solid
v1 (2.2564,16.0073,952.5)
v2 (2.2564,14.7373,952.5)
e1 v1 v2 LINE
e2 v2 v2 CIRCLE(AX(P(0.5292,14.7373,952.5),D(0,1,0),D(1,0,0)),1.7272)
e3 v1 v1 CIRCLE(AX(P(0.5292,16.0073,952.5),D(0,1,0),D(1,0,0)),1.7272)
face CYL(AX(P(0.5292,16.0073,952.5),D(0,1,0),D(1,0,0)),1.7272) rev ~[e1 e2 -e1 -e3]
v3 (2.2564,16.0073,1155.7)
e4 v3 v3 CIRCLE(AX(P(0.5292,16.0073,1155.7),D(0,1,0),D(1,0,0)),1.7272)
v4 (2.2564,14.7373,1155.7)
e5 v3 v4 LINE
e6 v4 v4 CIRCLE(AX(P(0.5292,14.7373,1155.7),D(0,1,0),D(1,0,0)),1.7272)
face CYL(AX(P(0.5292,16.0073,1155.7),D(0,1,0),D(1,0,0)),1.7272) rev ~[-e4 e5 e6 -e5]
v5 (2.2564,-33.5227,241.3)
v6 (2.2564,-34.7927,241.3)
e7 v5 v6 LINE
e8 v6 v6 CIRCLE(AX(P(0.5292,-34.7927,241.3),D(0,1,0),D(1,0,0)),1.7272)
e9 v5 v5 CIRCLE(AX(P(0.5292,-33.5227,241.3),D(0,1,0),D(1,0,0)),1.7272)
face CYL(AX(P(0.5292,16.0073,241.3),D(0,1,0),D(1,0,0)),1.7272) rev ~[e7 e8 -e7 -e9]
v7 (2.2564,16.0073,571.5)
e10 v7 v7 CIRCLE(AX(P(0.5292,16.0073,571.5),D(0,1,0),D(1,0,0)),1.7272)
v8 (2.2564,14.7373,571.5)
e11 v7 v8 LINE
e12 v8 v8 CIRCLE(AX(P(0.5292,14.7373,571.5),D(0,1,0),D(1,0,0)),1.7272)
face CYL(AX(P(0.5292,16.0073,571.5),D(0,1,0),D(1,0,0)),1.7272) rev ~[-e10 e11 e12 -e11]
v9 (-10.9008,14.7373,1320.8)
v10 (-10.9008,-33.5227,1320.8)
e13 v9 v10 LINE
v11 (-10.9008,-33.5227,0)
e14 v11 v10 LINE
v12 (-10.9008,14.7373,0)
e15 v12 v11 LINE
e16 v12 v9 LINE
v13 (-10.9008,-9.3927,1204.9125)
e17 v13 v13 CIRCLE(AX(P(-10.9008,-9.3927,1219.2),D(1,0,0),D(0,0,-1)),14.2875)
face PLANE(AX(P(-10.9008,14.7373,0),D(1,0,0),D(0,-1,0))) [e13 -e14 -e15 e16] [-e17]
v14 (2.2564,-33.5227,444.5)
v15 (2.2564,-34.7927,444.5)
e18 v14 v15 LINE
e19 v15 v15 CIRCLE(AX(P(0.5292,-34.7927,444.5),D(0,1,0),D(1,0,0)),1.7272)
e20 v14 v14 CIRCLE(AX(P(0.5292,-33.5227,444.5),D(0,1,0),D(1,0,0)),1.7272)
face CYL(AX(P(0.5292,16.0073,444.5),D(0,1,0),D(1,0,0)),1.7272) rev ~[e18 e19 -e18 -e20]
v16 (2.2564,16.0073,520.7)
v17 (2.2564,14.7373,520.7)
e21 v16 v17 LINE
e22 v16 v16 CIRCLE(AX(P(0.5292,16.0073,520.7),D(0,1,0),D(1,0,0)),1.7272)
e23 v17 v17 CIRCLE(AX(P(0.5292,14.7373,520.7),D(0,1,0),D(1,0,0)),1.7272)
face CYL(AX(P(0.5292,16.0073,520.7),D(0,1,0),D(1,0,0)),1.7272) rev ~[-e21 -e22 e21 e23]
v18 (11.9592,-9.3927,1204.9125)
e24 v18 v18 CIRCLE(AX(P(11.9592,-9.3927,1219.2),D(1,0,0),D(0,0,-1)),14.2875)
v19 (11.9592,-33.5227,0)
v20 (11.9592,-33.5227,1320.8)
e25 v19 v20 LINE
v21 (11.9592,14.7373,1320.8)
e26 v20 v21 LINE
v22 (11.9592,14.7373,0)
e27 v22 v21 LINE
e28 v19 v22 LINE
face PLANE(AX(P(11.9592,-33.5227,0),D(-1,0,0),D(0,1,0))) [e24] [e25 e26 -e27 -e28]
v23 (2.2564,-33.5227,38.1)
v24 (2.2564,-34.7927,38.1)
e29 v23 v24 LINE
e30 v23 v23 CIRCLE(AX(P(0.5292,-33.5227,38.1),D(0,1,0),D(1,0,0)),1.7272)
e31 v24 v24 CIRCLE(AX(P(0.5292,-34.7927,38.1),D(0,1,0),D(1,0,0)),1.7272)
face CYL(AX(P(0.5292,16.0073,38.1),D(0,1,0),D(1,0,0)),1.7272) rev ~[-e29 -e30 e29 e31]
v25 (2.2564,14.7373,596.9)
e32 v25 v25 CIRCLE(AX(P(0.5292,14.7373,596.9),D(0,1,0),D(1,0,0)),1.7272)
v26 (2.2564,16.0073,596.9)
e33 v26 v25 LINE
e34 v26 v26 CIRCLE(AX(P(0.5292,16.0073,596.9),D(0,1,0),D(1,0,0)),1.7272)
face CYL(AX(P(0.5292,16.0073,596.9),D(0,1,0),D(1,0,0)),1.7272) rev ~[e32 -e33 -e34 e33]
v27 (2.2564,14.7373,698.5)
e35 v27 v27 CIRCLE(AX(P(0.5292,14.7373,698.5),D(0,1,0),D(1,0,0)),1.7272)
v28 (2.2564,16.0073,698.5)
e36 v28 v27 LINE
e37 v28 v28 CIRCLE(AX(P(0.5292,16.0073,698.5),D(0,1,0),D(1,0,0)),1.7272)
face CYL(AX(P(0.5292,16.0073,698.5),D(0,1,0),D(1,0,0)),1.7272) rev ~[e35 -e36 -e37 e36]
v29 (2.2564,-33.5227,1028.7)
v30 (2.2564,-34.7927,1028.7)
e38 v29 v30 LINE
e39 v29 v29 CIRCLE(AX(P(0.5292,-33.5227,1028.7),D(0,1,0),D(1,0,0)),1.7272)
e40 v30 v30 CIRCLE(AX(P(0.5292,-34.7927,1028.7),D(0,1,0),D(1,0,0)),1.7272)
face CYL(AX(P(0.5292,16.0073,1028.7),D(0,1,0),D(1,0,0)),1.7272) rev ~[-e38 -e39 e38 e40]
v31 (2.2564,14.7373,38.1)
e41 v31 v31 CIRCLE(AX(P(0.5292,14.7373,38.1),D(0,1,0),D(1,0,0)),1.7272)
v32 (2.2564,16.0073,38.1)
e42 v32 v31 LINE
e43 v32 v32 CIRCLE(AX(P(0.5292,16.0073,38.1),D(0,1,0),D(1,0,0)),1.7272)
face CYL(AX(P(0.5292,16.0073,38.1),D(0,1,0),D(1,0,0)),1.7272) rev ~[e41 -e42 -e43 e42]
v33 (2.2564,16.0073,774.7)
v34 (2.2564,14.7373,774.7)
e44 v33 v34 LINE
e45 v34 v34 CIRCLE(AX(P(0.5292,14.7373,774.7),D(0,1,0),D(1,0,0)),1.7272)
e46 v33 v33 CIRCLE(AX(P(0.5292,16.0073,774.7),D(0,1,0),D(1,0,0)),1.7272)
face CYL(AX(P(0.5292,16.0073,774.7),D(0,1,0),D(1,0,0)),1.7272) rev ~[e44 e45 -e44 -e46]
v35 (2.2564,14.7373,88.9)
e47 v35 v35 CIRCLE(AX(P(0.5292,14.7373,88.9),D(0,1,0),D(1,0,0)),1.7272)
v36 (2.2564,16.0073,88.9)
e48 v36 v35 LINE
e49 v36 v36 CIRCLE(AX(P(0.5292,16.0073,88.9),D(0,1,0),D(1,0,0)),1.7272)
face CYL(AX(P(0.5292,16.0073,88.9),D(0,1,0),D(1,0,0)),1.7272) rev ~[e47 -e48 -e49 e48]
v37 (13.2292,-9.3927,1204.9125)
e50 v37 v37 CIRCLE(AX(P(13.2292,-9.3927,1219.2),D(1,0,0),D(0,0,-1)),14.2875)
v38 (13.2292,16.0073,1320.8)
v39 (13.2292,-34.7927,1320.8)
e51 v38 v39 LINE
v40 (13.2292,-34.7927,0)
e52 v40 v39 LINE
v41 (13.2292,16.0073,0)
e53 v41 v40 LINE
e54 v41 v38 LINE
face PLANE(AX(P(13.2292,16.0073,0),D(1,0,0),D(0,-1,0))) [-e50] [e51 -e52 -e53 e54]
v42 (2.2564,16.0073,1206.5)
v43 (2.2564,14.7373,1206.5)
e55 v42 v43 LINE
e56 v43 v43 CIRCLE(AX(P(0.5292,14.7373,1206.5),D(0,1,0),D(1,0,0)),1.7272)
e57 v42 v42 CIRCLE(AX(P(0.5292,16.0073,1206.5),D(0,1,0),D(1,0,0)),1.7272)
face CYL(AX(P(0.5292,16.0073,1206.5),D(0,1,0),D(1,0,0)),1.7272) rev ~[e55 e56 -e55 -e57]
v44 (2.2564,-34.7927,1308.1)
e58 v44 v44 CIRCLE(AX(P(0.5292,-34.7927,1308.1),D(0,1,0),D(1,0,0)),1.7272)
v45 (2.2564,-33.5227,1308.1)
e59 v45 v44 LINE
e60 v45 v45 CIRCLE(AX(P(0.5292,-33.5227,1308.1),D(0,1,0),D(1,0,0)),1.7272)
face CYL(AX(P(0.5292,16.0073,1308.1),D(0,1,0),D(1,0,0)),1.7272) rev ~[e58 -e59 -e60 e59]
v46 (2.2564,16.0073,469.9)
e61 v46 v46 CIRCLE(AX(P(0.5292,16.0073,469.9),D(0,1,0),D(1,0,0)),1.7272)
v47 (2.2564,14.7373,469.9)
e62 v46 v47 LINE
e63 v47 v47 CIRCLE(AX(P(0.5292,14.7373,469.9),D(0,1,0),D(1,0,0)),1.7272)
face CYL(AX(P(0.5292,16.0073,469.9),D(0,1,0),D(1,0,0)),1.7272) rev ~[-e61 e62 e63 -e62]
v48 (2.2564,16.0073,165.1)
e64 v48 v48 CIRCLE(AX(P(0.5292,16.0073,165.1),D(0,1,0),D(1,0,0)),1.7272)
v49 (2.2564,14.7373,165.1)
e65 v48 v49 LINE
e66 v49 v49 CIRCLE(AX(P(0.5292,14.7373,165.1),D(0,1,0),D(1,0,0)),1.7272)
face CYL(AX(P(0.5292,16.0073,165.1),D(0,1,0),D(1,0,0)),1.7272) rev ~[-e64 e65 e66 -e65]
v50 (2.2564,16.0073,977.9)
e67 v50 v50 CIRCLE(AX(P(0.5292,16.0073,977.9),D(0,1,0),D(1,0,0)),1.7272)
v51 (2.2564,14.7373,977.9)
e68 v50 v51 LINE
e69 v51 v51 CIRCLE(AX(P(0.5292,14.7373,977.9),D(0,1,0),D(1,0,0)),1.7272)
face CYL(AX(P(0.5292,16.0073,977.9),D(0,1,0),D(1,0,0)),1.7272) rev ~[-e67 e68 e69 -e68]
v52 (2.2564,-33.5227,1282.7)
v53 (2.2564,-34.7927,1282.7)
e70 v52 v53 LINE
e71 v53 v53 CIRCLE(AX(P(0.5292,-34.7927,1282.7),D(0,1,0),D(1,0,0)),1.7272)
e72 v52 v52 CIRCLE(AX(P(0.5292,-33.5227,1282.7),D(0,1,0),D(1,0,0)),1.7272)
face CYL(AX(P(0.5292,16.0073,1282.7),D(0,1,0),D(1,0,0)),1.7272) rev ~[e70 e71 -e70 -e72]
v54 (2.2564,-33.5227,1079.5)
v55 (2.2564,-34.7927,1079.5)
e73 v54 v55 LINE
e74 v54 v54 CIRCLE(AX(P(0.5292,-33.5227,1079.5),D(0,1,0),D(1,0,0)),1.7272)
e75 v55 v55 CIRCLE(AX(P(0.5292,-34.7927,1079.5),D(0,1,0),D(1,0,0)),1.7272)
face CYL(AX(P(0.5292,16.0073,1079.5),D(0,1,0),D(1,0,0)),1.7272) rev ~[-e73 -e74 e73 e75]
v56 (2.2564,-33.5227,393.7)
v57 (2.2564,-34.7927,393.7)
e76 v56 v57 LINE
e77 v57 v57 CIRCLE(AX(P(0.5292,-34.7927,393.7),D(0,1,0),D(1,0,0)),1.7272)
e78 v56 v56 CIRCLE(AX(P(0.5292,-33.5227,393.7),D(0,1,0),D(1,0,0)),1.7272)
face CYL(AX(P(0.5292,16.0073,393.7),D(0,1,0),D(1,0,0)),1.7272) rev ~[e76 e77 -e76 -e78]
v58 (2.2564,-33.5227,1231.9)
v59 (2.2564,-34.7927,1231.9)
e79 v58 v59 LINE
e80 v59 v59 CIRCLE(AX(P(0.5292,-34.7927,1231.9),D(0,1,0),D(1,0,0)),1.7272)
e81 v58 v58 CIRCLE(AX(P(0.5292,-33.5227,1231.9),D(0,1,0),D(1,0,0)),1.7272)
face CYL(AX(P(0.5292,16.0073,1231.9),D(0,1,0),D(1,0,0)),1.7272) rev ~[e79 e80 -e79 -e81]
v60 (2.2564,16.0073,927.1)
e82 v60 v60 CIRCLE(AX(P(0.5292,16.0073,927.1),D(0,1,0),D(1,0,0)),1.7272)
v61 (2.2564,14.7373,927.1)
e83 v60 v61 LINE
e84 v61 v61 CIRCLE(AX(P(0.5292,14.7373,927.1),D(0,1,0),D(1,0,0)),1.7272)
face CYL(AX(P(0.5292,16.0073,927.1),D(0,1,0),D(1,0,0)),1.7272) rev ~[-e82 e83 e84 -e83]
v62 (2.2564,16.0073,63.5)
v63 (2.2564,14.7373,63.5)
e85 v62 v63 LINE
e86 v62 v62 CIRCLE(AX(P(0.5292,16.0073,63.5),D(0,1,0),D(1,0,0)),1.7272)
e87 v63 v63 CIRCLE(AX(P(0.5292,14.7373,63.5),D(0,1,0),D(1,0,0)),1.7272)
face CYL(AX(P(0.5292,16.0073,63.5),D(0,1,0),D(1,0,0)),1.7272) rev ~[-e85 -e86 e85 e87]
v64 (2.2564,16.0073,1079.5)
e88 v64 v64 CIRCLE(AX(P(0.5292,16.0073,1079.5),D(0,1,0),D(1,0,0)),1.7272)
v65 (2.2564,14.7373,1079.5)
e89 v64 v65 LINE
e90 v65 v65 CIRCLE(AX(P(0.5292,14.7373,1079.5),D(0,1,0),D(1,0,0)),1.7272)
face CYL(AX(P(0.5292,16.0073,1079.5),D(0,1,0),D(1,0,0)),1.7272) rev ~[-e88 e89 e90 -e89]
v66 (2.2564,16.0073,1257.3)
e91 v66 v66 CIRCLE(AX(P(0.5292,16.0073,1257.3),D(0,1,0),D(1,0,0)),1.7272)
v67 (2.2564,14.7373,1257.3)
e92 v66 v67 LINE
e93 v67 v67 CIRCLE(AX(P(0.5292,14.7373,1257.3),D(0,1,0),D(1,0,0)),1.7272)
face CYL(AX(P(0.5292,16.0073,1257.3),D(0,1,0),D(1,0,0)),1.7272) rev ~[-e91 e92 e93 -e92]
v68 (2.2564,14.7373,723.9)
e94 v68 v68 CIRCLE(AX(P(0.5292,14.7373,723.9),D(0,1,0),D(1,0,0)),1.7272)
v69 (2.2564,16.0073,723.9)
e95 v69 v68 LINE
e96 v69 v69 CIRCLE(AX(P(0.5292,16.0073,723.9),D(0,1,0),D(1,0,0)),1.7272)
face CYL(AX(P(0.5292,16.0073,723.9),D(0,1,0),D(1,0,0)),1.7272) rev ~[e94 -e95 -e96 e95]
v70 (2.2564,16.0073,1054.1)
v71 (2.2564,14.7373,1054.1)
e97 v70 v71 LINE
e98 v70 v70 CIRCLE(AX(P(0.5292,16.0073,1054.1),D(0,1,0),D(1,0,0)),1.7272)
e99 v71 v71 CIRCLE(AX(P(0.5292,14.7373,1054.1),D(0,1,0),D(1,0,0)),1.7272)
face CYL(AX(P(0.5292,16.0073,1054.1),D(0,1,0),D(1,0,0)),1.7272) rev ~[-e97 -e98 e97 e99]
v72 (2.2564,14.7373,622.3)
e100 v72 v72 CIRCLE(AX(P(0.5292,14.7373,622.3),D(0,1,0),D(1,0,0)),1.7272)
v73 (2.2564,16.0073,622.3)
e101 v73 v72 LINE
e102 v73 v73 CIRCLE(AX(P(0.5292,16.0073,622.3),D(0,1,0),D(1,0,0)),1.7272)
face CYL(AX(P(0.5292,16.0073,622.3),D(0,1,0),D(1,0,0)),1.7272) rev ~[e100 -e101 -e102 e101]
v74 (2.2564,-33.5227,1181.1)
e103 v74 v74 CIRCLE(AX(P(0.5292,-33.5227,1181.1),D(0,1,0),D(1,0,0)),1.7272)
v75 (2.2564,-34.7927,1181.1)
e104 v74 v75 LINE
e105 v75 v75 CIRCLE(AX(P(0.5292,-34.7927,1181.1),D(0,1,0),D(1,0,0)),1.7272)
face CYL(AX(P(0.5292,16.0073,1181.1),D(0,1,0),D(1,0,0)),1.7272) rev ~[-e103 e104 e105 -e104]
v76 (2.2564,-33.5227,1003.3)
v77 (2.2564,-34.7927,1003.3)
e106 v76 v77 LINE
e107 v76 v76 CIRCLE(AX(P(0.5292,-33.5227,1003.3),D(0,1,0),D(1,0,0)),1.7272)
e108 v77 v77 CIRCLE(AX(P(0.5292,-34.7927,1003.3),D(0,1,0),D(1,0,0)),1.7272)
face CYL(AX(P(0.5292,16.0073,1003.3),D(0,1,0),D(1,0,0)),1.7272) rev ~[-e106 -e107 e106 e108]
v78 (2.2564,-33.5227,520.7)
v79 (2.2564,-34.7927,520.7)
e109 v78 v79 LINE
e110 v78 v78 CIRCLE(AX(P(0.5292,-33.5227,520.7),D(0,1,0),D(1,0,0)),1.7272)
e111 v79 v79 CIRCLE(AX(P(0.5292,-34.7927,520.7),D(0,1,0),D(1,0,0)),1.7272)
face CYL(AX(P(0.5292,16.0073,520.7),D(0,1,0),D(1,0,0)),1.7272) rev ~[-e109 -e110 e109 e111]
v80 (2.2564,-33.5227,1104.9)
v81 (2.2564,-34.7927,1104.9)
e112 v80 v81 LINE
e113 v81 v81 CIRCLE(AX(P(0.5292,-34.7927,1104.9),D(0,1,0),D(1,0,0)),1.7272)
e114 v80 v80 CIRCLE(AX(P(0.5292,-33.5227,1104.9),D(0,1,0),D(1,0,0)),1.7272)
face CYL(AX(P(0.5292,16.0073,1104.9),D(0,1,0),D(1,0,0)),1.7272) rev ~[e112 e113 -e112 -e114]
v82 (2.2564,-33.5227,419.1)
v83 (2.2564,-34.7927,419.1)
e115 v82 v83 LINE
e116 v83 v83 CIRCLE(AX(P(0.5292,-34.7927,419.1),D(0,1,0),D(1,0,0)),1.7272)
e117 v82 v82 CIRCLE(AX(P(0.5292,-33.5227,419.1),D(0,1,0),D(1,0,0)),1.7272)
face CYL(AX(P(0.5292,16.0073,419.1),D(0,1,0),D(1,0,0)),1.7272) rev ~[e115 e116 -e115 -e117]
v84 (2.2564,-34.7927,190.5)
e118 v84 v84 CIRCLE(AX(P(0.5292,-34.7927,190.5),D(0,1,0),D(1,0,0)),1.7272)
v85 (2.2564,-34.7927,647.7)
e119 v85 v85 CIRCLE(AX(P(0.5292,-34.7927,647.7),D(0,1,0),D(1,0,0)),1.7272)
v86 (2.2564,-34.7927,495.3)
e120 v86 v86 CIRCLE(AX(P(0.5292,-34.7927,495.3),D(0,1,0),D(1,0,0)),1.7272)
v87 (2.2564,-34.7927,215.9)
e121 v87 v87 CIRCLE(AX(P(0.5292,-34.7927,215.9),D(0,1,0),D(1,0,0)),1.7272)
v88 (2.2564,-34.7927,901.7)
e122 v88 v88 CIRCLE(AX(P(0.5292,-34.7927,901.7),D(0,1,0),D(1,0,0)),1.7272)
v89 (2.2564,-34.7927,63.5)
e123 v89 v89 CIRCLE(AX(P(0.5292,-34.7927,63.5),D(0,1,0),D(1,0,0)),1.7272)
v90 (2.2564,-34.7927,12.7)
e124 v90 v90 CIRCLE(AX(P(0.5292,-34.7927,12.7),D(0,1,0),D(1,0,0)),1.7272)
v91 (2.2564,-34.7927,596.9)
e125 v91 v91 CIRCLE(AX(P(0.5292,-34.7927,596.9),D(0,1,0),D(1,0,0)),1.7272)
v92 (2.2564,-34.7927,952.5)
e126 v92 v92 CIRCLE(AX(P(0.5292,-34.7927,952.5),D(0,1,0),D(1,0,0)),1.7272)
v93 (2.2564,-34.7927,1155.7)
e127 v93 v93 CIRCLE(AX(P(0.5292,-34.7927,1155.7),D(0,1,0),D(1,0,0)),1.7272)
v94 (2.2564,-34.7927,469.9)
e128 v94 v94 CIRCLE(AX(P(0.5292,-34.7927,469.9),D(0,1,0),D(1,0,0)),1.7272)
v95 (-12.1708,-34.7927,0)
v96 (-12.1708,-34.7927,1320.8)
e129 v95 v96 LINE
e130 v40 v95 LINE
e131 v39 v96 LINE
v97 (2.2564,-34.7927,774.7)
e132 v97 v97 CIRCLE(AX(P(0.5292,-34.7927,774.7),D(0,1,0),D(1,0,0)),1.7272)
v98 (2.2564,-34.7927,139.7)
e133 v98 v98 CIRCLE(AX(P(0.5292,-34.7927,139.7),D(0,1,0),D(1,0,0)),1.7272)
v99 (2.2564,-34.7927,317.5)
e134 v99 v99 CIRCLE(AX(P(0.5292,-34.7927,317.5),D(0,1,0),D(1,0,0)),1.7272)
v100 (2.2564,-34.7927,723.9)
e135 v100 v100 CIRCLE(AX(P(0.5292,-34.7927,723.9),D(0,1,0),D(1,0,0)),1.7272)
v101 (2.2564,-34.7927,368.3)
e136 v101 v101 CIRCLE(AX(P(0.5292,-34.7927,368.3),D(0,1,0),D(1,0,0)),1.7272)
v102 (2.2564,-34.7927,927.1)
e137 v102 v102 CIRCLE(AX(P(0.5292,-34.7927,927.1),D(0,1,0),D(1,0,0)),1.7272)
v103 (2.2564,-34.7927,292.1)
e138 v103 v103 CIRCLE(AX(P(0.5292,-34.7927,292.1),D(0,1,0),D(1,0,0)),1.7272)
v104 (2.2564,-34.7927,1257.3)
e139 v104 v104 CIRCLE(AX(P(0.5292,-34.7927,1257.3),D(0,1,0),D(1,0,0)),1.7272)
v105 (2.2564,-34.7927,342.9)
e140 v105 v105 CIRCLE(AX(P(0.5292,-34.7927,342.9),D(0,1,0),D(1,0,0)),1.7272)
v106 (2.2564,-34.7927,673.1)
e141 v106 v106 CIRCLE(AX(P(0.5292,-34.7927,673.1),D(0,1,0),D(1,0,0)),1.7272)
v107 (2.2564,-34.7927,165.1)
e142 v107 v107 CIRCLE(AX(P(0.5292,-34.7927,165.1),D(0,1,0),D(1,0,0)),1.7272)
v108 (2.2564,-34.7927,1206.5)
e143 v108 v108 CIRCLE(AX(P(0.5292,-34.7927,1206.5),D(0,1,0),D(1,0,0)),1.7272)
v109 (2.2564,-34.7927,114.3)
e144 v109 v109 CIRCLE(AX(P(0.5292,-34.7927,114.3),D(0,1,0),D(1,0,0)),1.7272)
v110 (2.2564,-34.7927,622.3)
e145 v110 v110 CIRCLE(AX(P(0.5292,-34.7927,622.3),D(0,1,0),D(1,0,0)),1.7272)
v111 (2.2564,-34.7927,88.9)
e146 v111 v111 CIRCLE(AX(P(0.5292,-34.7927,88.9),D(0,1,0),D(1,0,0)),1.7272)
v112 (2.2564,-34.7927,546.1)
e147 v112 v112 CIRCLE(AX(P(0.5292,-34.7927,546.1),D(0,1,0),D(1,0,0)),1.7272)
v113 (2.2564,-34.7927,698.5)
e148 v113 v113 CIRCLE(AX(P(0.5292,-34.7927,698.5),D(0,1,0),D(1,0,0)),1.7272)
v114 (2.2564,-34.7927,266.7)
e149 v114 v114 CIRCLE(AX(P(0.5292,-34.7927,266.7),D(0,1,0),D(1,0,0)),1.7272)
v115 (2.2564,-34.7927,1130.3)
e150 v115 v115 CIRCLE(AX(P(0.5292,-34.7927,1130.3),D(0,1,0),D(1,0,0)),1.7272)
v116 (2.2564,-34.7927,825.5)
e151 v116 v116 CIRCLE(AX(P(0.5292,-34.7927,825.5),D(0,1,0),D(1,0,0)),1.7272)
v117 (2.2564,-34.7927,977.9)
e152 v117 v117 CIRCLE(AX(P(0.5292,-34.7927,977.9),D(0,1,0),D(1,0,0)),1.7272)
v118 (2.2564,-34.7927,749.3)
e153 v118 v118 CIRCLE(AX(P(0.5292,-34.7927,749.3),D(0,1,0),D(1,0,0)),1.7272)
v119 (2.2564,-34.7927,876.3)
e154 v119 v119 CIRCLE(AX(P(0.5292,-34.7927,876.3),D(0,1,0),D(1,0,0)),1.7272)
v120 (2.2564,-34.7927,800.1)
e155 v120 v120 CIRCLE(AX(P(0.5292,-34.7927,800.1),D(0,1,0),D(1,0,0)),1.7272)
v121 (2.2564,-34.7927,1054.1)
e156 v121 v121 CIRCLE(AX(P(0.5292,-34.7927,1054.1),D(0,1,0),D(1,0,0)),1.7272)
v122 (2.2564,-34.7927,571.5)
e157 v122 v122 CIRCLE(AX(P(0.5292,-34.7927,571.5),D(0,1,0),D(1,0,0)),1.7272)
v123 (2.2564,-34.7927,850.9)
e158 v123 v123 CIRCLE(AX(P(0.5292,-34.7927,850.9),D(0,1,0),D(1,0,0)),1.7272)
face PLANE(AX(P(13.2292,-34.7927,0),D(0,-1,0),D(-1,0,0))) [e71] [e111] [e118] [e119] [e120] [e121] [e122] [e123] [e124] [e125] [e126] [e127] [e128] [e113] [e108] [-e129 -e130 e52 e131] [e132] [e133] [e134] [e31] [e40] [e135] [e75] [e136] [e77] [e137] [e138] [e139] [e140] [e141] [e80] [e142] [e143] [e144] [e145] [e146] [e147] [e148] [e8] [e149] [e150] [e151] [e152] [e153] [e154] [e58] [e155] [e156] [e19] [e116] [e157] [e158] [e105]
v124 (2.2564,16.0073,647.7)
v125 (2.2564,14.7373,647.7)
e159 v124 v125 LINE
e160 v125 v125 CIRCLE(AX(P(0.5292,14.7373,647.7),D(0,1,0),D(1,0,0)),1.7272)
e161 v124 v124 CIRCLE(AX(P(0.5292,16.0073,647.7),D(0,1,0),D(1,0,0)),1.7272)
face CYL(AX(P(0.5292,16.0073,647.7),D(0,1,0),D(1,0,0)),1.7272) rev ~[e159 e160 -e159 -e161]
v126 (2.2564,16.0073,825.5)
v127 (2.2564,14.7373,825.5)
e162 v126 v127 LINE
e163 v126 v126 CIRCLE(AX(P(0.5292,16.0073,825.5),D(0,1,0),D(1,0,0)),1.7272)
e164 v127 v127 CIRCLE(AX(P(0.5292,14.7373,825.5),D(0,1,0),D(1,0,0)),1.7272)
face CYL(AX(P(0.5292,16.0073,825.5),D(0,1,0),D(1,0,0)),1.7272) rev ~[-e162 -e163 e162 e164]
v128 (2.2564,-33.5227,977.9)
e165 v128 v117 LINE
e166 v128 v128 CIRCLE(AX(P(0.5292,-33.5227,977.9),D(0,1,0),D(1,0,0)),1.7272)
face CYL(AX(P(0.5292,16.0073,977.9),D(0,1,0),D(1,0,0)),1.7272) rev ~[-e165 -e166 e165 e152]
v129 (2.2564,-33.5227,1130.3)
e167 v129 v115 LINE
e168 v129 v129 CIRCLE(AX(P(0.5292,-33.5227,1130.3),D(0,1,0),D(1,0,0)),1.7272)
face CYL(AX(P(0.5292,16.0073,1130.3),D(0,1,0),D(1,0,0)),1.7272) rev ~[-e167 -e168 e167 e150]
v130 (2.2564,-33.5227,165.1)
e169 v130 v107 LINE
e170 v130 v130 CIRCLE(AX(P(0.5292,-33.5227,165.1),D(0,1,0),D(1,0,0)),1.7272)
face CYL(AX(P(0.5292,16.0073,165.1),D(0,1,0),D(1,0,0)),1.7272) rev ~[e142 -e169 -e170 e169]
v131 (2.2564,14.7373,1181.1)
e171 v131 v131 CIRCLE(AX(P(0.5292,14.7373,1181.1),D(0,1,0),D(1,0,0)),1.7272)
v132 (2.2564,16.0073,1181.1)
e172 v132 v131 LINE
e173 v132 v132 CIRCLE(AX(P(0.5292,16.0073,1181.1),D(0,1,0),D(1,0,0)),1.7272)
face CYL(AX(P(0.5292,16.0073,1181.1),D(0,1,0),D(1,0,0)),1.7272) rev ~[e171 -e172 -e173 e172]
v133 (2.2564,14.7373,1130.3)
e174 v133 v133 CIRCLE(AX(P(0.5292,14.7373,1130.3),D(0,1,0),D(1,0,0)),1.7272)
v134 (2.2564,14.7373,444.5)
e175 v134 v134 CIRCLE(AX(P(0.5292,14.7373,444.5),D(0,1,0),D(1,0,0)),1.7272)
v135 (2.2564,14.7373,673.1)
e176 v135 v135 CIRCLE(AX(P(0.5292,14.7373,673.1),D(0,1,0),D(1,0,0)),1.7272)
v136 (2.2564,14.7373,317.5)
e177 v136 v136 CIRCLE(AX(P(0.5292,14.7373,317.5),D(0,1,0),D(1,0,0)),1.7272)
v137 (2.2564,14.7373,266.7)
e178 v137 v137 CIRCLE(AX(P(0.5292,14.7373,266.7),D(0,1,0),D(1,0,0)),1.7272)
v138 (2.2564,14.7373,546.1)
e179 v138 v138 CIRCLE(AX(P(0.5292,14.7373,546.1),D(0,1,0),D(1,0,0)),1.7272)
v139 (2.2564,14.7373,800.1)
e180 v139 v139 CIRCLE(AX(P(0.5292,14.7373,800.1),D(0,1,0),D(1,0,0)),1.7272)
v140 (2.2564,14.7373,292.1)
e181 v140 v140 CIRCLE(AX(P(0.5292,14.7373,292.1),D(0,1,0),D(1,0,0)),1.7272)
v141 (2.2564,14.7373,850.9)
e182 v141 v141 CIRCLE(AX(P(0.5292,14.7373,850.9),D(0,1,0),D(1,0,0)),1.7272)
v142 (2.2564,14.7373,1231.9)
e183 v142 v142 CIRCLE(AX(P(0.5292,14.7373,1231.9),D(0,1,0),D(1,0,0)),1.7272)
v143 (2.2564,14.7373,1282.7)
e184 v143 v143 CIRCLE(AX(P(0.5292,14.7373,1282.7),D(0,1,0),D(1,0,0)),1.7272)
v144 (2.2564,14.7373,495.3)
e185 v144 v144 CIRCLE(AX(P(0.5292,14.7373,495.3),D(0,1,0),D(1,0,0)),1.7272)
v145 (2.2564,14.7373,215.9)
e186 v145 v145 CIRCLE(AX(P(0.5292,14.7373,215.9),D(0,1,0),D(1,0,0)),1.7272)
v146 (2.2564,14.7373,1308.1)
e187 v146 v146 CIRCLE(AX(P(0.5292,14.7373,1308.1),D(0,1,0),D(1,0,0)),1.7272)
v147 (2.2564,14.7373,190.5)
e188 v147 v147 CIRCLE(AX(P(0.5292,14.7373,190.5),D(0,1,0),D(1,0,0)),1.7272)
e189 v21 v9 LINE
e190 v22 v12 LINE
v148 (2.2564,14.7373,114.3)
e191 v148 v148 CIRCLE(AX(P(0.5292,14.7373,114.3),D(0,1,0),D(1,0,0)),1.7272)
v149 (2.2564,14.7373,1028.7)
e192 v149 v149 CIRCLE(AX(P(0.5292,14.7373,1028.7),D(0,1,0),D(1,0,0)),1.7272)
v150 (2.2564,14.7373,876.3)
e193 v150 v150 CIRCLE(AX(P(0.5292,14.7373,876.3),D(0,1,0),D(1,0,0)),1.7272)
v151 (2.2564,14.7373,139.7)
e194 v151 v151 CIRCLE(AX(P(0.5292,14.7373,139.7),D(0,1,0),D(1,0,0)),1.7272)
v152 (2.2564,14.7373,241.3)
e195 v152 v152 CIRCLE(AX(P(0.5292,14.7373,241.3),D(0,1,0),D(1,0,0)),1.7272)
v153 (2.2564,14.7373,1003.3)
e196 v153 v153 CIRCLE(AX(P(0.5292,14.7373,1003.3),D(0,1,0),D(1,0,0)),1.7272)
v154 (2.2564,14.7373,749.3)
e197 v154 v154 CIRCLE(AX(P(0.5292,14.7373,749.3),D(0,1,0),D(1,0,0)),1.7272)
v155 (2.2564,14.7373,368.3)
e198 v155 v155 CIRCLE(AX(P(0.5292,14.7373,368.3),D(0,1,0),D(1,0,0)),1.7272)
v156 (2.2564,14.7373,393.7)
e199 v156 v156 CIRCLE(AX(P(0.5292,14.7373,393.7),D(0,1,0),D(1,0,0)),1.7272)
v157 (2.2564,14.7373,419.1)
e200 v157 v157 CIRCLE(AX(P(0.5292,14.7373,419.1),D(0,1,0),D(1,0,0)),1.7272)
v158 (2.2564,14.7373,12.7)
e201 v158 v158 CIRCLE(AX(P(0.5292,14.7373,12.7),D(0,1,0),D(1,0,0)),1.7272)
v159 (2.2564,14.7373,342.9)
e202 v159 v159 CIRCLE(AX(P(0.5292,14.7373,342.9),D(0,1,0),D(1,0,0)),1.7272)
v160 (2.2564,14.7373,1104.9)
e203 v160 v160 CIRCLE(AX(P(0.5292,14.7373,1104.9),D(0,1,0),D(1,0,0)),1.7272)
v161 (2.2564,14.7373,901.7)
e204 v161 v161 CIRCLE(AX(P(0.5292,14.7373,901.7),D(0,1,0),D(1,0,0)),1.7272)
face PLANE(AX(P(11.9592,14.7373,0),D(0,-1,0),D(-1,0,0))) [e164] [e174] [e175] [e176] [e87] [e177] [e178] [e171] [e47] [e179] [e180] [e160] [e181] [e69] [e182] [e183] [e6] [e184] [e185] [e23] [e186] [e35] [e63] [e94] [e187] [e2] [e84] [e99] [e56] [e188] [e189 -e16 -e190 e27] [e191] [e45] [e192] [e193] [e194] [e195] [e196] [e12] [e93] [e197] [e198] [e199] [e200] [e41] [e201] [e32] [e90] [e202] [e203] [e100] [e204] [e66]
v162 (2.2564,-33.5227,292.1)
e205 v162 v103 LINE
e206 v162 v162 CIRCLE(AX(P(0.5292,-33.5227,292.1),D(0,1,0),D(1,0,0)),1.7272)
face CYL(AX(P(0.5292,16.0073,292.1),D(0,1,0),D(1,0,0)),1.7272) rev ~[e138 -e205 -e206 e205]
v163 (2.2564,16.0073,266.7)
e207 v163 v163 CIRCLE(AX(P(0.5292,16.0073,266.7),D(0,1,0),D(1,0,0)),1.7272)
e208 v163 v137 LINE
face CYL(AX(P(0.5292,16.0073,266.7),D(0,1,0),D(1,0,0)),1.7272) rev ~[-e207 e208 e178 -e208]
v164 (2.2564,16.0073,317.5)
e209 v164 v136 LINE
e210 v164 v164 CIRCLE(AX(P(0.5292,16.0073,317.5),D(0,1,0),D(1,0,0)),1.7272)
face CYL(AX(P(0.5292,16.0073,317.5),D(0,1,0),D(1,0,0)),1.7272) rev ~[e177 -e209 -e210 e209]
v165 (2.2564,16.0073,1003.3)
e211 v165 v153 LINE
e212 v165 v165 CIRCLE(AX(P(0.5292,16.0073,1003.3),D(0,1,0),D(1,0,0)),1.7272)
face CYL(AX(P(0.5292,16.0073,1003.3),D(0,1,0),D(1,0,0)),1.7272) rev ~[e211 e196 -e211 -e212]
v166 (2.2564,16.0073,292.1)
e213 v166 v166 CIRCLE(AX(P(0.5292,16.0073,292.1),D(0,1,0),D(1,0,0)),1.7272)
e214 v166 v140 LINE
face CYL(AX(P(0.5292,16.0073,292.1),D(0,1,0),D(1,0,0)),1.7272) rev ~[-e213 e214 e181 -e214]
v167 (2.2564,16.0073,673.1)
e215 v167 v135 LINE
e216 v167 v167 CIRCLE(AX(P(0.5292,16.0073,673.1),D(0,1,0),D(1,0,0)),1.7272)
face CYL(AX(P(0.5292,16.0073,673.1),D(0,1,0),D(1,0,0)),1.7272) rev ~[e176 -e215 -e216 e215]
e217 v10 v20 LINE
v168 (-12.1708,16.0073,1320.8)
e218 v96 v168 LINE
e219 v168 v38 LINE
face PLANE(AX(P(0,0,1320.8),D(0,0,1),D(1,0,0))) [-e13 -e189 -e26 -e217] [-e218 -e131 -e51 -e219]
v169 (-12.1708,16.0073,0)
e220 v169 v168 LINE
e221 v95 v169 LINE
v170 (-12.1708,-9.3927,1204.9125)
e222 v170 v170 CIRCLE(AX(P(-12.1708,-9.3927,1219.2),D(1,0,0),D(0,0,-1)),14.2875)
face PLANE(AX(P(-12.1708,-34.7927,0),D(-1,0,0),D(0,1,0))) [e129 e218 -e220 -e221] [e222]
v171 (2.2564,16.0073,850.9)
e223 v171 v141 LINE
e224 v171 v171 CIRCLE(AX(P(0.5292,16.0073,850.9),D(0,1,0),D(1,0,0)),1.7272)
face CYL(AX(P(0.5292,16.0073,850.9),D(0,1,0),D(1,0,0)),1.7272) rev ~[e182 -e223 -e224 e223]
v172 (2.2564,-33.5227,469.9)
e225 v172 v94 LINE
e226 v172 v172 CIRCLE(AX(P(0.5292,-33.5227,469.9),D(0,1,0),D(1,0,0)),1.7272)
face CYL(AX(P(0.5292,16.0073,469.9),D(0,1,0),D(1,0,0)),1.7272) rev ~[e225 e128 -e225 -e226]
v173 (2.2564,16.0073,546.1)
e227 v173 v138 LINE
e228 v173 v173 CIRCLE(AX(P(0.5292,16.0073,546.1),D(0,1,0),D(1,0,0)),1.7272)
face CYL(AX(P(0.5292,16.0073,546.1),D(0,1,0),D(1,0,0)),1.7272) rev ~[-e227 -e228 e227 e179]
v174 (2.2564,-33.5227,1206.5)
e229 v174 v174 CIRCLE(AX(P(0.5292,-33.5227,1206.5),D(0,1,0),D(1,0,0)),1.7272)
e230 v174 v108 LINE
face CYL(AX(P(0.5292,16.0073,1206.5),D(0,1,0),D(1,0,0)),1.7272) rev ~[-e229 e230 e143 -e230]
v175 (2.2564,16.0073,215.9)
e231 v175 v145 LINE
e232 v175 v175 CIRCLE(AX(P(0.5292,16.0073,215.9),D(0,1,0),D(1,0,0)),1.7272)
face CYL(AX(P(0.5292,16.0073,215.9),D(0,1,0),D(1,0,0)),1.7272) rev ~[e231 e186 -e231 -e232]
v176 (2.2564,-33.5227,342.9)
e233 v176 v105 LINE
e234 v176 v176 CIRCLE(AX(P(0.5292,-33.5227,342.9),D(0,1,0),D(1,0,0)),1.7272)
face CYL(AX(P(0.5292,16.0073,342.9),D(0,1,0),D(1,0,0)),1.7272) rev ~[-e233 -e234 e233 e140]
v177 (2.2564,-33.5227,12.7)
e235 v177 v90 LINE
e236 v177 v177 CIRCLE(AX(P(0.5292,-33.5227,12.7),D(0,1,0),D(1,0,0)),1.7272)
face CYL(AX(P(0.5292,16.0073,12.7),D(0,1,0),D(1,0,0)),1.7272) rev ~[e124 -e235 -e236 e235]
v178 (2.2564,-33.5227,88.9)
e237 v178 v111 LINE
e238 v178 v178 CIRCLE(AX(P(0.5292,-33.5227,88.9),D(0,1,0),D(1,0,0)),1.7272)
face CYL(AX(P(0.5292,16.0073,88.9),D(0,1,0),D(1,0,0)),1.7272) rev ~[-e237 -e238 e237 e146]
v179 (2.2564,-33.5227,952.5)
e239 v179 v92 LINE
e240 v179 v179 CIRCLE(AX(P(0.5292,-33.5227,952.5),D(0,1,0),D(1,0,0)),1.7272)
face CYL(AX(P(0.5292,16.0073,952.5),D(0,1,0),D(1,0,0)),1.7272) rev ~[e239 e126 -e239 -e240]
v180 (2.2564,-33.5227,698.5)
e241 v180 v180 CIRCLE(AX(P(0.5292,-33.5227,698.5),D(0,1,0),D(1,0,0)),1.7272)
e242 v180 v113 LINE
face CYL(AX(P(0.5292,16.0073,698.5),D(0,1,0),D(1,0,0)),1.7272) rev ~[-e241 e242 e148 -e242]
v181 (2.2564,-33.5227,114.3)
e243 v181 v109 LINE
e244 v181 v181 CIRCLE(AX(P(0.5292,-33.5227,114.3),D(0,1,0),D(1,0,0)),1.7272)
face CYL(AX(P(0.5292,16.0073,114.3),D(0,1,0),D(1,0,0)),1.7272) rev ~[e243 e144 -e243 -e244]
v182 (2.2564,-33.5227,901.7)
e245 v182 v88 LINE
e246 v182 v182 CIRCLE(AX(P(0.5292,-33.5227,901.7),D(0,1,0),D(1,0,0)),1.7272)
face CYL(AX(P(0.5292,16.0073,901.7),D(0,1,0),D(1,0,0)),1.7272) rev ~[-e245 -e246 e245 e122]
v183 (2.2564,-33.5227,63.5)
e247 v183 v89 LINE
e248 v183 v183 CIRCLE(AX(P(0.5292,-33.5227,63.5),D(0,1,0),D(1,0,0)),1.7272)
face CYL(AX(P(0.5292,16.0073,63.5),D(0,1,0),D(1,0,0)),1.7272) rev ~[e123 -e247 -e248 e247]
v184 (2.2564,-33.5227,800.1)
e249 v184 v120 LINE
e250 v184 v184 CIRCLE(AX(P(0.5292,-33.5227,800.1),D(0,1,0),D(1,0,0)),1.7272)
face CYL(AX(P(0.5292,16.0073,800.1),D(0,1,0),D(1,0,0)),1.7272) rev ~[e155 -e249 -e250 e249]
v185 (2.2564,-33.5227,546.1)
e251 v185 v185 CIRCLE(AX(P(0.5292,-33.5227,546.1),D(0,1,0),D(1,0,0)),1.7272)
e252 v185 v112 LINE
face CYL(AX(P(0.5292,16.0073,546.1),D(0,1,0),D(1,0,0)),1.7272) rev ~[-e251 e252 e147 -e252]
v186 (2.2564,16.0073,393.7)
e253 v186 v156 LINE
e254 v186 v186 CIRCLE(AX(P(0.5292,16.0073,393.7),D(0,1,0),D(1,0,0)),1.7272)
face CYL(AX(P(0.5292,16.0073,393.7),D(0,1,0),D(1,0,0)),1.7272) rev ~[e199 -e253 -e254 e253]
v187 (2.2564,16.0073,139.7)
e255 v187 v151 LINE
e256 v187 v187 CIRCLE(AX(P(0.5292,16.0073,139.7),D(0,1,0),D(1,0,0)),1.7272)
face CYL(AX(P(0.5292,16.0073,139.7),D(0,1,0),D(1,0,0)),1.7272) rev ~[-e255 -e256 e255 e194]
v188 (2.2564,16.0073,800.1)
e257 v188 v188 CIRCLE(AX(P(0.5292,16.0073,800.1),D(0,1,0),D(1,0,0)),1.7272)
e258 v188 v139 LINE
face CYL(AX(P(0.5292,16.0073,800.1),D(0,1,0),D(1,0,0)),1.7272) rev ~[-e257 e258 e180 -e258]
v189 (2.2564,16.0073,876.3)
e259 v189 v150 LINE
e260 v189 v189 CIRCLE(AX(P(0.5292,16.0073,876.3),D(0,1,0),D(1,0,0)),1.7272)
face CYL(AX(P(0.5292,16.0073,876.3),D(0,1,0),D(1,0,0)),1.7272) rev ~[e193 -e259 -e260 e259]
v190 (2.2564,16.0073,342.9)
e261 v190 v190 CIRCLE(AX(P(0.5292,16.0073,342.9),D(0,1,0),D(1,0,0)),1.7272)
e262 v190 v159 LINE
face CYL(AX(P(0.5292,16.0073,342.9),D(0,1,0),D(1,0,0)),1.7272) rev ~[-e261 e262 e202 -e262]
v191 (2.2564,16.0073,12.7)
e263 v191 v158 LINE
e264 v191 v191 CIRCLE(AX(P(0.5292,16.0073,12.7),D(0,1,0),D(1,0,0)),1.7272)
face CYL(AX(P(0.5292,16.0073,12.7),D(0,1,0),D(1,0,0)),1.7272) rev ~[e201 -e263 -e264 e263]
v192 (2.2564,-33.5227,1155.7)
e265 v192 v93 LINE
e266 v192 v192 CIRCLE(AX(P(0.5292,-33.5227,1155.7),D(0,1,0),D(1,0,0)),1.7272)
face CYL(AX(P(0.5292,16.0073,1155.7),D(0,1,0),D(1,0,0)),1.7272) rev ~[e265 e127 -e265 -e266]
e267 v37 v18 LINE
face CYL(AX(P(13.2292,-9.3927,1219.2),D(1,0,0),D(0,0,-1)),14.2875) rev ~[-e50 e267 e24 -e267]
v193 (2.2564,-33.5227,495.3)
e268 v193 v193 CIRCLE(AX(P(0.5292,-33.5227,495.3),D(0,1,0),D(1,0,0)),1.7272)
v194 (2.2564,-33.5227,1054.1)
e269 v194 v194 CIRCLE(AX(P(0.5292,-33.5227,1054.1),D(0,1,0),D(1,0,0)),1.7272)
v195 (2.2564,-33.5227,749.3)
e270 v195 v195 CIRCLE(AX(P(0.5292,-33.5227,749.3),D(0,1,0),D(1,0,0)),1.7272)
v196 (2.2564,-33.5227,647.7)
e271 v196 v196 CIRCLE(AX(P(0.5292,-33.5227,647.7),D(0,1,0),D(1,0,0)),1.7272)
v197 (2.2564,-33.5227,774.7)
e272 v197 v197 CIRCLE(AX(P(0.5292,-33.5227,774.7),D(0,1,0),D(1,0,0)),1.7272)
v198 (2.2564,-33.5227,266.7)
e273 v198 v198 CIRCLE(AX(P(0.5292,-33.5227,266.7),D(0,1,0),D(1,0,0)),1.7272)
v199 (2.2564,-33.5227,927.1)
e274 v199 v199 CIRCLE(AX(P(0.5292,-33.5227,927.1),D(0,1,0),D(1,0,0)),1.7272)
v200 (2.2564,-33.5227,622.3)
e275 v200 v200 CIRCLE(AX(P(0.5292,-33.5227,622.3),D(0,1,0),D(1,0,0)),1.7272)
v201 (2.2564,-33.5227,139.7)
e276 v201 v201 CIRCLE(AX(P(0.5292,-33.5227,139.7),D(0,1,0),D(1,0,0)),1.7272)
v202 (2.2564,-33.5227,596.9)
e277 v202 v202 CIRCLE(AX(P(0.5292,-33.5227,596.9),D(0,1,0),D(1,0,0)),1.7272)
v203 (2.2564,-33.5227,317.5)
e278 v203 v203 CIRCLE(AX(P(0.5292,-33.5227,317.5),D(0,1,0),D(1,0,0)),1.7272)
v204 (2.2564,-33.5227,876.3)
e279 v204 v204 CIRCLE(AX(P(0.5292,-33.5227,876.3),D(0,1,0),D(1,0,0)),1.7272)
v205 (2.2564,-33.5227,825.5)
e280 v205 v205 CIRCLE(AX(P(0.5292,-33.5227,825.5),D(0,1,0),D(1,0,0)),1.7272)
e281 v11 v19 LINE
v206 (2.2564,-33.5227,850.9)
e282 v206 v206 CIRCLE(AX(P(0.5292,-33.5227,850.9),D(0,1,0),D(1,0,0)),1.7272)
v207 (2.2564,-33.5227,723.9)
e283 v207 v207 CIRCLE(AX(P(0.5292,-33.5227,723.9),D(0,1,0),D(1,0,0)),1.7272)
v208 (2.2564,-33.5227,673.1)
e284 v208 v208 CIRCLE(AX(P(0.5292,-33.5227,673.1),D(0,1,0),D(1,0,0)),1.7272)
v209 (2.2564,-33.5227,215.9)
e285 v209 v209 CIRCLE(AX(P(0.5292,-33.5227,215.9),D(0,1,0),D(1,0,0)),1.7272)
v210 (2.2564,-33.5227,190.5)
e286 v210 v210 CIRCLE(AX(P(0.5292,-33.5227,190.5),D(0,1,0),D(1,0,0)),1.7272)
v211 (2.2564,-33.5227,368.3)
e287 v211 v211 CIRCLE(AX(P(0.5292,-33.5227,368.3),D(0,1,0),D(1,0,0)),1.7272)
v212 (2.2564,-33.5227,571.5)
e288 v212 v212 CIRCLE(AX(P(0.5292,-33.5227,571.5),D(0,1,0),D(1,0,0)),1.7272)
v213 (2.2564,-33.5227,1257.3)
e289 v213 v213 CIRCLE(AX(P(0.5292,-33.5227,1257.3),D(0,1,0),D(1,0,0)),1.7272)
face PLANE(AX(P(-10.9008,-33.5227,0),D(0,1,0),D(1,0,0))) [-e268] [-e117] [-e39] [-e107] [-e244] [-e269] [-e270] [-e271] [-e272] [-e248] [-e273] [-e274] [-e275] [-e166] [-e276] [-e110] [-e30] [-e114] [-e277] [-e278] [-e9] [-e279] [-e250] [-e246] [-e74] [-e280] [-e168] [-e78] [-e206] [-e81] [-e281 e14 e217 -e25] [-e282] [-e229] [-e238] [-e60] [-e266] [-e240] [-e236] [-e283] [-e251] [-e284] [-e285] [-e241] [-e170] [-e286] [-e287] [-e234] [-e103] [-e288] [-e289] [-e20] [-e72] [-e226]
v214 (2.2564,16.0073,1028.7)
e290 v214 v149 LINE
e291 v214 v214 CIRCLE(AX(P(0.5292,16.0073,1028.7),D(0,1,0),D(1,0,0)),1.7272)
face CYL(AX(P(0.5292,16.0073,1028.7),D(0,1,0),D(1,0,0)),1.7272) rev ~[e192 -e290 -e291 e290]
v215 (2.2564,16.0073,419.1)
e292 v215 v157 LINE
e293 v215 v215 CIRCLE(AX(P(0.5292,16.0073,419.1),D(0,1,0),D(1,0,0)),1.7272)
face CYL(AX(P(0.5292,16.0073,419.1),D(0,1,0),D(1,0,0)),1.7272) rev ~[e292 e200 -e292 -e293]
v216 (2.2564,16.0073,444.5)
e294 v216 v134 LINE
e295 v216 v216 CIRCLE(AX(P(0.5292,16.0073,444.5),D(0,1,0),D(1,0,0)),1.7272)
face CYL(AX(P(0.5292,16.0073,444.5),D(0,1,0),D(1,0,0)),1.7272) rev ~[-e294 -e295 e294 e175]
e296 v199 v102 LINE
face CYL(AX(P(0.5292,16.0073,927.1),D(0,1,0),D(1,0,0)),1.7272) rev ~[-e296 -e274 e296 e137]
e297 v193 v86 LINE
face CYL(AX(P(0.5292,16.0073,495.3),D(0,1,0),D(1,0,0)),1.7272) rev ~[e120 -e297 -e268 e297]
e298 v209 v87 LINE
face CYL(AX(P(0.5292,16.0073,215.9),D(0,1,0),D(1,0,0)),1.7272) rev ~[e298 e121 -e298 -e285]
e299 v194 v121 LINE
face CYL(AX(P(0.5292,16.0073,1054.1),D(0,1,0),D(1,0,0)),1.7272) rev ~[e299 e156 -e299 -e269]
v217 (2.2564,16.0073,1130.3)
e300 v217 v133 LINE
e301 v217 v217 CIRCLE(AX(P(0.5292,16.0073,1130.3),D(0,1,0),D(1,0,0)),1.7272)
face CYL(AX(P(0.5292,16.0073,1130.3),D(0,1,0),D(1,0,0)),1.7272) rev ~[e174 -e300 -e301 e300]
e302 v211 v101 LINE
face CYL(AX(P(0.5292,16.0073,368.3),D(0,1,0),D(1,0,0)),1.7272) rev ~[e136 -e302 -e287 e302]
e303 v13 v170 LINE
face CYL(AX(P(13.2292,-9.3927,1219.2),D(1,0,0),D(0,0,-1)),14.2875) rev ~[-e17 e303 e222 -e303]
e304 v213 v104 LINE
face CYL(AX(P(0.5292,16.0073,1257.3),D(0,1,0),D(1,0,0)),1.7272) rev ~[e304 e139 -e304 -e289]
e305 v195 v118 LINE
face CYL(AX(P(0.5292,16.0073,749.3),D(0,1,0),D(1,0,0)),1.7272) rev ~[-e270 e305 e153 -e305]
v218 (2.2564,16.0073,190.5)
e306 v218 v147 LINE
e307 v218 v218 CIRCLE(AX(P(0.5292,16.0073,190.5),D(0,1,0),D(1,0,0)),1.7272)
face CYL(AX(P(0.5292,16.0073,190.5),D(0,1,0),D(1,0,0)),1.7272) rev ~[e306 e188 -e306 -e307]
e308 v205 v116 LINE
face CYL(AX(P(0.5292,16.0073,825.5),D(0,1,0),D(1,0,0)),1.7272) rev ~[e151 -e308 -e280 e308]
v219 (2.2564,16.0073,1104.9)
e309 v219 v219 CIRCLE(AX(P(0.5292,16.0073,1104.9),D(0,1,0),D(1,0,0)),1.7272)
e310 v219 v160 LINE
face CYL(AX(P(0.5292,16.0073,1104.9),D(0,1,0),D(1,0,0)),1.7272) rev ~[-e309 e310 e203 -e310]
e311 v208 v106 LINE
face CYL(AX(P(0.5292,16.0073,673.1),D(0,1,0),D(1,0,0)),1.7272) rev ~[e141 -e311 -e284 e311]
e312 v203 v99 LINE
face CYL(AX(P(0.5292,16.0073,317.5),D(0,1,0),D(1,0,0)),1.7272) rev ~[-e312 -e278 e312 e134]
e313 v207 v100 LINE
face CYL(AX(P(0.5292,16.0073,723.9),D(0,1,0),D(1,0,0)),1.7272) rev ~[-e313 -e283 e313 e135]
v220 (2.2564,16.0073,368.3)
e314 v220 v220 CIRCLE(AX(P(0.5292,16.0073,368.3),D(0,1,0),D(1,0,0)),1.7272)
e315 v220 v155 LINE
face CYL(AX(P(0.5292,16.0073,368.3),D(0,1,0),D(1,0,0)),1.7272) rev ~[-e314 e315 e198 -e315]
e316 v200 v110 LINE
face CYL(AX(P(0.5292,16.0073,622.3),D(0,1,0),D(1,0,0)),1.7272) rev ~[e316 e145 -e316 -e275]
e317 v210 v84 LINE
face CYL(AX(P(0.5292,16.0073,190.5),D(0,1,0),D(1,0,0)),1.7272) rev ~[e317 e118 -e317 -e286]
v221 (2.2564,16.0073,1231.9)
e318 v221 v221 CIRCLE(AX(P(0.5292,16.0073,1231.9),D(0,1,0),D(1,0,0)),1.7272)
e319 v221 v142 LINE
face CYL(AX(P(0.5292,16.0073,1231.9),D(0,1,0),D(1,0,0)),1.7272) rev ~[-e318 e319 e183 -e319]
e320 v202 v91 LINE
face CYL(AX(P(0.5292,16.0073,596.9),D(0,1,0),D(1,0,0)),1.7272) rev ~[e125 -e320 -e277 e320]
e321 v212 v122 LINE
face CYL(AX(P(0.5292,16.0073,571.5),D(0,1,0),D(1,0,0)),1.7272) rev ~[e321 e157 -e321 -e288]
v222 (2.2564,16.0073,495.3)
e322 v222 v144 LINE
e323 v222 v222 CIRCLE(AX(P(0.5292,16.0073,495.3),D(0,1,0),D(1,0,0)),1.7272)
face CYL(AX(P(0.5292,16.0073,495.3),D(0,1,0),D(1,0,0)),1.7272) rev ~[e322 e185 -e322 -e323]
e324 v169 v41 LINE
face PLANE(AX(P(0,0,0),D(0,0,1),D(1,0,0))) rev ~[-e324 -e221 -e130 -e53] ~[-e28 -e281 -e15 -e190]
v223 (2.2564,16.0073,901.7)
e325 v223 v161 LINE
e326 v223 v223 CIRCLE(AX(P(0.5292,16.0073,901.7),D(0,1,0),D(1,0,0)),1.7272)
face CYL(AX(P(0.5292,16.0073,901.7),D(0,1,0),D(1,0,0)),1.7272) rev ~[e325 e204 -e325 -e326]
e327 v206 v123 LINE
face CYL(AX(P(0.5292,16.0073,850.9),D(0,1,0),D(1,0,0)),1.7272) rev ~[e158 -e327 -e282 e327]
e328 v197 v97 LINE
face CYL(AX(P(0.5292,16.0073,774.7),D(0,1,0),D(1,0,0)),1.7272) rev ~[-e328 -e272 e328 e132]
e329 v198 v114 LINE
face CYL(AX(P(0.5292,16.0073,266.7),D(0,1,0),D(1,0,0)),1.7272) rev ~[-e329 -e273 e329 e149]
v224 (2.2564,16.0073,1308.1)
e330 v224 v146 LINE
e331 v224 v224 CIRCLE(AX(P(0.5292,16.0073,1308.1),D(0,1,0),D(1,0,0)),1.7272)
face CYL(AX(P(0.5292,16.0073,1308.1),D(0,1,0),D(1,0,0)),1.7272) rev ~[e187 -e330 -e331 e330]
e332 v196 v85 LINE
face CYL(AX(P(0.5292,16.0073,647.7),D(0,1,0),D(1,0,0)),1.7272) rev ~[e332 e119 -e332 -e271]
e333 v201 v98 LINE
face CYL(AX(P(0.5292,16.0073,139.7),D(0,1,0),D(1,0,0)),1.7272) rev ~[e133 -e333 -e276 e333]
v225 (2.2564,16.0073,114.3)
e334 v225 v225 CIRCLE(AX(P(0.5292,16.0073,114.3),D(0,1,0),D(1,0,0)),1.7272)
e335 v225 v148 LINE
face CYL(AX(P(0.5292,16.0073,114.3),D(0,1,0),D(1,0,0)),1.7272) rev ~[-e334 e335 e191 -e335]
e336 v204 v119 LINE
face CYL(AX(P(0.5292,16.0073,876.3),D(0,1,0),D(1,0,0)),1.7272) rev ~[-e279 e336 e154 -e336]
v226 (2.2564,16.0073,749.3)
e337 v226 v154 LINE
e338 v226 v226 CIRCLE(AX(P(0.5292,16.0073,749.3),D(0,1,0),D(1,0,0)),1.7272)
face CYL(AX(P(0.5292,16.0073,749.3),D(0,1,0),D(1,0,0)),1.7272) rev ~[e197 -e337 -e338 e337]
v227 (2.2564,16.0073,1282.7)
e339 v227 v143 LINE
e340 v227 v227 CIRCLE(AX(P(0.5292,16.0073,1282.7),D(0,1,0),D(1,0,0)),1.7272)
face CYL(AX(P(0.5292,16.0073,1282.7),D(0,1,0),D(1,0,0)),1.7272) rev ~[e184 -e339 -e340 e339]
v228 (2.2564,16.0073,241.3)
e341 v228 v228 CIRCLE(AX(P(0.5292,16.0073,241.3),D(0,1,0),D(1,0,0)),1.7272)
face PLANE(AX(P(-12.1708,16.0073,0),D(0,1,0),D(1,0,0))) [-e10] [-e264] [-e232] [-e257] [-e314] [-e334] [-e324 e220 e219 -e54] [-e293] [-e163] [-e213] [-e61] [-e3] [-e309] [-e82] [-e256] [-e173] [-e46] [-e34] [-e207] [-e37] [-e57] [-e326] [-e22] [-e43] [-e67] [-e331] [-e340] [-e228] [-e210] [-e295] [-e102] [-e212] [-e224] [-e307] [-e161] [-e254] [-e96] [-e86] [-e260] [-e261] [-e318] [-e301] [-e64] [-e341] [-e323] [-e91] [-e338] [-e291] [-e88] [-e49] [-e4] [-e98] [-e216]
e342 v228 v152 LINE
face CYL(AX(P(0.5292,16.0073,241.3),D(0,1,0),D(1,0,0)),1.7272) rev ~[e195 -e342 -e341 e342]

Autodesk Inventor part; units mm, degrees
ref_plane "YZ Plane" through (0, 0, 0) normal (1, 0, 0) x (0, 1, 0)
ref_plane "XZ Plane" through (0, 0, 0) normal (0, 1, 0) x (-1, 0, 0)
ref_plane "XY Plane" through (0, 0, 0) normal (0, 0, 1) x (1, 0, 0)
sketch "Sketch1" plane through (0, 0, 0) normal (0, 0, 1) x (1, 0, 0)
  line L0 (-12.1708, 16.0073) -> (13.2292, 16.0073)
  line L1 (13.2292, 16.0073) -> (13.2292, -34.7927)
  line L2 (13.2292, -34.7927) -> (-12.1708, -34.7927)
  line L3 (-12.1708, -34.7927) -> (-12.1708, 16.0073)
  line L4 (11.9592, 14.7373) -> (-10.9008, 14.7373)
  line L5 (-10.9008, 14.7373) -> (-10.9008, -33.5227)
  line L6 (-10.9008, -33.5227) -> (11.9592, -33.5227)
  line L7 (11.9592, -33.5227) -> (11.9592, 14.7373)
  point P0 (0, 0)
  dimension "d0" = 25.4
  dimension "d1" = 50.8
  dimension "d2" = 1.27
extrude "Extrusion1" add sketch "Sketch1" along normal blind 1320.8
sketch "Sketch2" plane through (-12.1708, 16.0073, 0) normal (0, 1, 0) x (1, 0, 0)
  circle A0 centre (12.7, -12.7) radius 1.7272
  line L0 (25.4, 0) -> (0, 0) projected
  line L1 (0, 0) -> (0, -1320.8) projected
  point P0 (12.1708, 0)
  dimension "d5" = 3.4544
  dimension "d6" = 12.7
  dimension "d7" = 12.7
extrude "Extrusion2" cut sketch "Sketch2" against normal through all
pattern_linear "Rectangular Pattern1" count 132 spacing 25.4 along (0, 0, 1) of "Extrusion2"
sketch "Sketch4" plane through (13.2292, -34.7927, 0) normal (1, 0, 0) x (0, 0, -1)
  circle A0 centre (-1219.2, 25.4) radius 14.2875
  line L0 (0, 0) -> (0, 50.8) projected
  line L1 (0, 0) -> (-1320.8, 0) projected
  line L2 (-1320.8, 0) -> (-1320.8, 50.8) projected
  point P0 (0, 34.7927)
  point P1 (-1320.8, 25.4)
  dimension "d22" = 25.4
  dimension "d23" = 28.575
  dimension "d26" = 101.6
extrude "Extrusion4" cut sketch "Sketch4" against normal blind 25.4
equation "\"d3\" = d13"
equation "\"d10\" = d14"
equation "\"d13\" = 1320.8"
equation "\"d14\" = d13"
properties part number "VersaFrame(tower arms) V1.2"
